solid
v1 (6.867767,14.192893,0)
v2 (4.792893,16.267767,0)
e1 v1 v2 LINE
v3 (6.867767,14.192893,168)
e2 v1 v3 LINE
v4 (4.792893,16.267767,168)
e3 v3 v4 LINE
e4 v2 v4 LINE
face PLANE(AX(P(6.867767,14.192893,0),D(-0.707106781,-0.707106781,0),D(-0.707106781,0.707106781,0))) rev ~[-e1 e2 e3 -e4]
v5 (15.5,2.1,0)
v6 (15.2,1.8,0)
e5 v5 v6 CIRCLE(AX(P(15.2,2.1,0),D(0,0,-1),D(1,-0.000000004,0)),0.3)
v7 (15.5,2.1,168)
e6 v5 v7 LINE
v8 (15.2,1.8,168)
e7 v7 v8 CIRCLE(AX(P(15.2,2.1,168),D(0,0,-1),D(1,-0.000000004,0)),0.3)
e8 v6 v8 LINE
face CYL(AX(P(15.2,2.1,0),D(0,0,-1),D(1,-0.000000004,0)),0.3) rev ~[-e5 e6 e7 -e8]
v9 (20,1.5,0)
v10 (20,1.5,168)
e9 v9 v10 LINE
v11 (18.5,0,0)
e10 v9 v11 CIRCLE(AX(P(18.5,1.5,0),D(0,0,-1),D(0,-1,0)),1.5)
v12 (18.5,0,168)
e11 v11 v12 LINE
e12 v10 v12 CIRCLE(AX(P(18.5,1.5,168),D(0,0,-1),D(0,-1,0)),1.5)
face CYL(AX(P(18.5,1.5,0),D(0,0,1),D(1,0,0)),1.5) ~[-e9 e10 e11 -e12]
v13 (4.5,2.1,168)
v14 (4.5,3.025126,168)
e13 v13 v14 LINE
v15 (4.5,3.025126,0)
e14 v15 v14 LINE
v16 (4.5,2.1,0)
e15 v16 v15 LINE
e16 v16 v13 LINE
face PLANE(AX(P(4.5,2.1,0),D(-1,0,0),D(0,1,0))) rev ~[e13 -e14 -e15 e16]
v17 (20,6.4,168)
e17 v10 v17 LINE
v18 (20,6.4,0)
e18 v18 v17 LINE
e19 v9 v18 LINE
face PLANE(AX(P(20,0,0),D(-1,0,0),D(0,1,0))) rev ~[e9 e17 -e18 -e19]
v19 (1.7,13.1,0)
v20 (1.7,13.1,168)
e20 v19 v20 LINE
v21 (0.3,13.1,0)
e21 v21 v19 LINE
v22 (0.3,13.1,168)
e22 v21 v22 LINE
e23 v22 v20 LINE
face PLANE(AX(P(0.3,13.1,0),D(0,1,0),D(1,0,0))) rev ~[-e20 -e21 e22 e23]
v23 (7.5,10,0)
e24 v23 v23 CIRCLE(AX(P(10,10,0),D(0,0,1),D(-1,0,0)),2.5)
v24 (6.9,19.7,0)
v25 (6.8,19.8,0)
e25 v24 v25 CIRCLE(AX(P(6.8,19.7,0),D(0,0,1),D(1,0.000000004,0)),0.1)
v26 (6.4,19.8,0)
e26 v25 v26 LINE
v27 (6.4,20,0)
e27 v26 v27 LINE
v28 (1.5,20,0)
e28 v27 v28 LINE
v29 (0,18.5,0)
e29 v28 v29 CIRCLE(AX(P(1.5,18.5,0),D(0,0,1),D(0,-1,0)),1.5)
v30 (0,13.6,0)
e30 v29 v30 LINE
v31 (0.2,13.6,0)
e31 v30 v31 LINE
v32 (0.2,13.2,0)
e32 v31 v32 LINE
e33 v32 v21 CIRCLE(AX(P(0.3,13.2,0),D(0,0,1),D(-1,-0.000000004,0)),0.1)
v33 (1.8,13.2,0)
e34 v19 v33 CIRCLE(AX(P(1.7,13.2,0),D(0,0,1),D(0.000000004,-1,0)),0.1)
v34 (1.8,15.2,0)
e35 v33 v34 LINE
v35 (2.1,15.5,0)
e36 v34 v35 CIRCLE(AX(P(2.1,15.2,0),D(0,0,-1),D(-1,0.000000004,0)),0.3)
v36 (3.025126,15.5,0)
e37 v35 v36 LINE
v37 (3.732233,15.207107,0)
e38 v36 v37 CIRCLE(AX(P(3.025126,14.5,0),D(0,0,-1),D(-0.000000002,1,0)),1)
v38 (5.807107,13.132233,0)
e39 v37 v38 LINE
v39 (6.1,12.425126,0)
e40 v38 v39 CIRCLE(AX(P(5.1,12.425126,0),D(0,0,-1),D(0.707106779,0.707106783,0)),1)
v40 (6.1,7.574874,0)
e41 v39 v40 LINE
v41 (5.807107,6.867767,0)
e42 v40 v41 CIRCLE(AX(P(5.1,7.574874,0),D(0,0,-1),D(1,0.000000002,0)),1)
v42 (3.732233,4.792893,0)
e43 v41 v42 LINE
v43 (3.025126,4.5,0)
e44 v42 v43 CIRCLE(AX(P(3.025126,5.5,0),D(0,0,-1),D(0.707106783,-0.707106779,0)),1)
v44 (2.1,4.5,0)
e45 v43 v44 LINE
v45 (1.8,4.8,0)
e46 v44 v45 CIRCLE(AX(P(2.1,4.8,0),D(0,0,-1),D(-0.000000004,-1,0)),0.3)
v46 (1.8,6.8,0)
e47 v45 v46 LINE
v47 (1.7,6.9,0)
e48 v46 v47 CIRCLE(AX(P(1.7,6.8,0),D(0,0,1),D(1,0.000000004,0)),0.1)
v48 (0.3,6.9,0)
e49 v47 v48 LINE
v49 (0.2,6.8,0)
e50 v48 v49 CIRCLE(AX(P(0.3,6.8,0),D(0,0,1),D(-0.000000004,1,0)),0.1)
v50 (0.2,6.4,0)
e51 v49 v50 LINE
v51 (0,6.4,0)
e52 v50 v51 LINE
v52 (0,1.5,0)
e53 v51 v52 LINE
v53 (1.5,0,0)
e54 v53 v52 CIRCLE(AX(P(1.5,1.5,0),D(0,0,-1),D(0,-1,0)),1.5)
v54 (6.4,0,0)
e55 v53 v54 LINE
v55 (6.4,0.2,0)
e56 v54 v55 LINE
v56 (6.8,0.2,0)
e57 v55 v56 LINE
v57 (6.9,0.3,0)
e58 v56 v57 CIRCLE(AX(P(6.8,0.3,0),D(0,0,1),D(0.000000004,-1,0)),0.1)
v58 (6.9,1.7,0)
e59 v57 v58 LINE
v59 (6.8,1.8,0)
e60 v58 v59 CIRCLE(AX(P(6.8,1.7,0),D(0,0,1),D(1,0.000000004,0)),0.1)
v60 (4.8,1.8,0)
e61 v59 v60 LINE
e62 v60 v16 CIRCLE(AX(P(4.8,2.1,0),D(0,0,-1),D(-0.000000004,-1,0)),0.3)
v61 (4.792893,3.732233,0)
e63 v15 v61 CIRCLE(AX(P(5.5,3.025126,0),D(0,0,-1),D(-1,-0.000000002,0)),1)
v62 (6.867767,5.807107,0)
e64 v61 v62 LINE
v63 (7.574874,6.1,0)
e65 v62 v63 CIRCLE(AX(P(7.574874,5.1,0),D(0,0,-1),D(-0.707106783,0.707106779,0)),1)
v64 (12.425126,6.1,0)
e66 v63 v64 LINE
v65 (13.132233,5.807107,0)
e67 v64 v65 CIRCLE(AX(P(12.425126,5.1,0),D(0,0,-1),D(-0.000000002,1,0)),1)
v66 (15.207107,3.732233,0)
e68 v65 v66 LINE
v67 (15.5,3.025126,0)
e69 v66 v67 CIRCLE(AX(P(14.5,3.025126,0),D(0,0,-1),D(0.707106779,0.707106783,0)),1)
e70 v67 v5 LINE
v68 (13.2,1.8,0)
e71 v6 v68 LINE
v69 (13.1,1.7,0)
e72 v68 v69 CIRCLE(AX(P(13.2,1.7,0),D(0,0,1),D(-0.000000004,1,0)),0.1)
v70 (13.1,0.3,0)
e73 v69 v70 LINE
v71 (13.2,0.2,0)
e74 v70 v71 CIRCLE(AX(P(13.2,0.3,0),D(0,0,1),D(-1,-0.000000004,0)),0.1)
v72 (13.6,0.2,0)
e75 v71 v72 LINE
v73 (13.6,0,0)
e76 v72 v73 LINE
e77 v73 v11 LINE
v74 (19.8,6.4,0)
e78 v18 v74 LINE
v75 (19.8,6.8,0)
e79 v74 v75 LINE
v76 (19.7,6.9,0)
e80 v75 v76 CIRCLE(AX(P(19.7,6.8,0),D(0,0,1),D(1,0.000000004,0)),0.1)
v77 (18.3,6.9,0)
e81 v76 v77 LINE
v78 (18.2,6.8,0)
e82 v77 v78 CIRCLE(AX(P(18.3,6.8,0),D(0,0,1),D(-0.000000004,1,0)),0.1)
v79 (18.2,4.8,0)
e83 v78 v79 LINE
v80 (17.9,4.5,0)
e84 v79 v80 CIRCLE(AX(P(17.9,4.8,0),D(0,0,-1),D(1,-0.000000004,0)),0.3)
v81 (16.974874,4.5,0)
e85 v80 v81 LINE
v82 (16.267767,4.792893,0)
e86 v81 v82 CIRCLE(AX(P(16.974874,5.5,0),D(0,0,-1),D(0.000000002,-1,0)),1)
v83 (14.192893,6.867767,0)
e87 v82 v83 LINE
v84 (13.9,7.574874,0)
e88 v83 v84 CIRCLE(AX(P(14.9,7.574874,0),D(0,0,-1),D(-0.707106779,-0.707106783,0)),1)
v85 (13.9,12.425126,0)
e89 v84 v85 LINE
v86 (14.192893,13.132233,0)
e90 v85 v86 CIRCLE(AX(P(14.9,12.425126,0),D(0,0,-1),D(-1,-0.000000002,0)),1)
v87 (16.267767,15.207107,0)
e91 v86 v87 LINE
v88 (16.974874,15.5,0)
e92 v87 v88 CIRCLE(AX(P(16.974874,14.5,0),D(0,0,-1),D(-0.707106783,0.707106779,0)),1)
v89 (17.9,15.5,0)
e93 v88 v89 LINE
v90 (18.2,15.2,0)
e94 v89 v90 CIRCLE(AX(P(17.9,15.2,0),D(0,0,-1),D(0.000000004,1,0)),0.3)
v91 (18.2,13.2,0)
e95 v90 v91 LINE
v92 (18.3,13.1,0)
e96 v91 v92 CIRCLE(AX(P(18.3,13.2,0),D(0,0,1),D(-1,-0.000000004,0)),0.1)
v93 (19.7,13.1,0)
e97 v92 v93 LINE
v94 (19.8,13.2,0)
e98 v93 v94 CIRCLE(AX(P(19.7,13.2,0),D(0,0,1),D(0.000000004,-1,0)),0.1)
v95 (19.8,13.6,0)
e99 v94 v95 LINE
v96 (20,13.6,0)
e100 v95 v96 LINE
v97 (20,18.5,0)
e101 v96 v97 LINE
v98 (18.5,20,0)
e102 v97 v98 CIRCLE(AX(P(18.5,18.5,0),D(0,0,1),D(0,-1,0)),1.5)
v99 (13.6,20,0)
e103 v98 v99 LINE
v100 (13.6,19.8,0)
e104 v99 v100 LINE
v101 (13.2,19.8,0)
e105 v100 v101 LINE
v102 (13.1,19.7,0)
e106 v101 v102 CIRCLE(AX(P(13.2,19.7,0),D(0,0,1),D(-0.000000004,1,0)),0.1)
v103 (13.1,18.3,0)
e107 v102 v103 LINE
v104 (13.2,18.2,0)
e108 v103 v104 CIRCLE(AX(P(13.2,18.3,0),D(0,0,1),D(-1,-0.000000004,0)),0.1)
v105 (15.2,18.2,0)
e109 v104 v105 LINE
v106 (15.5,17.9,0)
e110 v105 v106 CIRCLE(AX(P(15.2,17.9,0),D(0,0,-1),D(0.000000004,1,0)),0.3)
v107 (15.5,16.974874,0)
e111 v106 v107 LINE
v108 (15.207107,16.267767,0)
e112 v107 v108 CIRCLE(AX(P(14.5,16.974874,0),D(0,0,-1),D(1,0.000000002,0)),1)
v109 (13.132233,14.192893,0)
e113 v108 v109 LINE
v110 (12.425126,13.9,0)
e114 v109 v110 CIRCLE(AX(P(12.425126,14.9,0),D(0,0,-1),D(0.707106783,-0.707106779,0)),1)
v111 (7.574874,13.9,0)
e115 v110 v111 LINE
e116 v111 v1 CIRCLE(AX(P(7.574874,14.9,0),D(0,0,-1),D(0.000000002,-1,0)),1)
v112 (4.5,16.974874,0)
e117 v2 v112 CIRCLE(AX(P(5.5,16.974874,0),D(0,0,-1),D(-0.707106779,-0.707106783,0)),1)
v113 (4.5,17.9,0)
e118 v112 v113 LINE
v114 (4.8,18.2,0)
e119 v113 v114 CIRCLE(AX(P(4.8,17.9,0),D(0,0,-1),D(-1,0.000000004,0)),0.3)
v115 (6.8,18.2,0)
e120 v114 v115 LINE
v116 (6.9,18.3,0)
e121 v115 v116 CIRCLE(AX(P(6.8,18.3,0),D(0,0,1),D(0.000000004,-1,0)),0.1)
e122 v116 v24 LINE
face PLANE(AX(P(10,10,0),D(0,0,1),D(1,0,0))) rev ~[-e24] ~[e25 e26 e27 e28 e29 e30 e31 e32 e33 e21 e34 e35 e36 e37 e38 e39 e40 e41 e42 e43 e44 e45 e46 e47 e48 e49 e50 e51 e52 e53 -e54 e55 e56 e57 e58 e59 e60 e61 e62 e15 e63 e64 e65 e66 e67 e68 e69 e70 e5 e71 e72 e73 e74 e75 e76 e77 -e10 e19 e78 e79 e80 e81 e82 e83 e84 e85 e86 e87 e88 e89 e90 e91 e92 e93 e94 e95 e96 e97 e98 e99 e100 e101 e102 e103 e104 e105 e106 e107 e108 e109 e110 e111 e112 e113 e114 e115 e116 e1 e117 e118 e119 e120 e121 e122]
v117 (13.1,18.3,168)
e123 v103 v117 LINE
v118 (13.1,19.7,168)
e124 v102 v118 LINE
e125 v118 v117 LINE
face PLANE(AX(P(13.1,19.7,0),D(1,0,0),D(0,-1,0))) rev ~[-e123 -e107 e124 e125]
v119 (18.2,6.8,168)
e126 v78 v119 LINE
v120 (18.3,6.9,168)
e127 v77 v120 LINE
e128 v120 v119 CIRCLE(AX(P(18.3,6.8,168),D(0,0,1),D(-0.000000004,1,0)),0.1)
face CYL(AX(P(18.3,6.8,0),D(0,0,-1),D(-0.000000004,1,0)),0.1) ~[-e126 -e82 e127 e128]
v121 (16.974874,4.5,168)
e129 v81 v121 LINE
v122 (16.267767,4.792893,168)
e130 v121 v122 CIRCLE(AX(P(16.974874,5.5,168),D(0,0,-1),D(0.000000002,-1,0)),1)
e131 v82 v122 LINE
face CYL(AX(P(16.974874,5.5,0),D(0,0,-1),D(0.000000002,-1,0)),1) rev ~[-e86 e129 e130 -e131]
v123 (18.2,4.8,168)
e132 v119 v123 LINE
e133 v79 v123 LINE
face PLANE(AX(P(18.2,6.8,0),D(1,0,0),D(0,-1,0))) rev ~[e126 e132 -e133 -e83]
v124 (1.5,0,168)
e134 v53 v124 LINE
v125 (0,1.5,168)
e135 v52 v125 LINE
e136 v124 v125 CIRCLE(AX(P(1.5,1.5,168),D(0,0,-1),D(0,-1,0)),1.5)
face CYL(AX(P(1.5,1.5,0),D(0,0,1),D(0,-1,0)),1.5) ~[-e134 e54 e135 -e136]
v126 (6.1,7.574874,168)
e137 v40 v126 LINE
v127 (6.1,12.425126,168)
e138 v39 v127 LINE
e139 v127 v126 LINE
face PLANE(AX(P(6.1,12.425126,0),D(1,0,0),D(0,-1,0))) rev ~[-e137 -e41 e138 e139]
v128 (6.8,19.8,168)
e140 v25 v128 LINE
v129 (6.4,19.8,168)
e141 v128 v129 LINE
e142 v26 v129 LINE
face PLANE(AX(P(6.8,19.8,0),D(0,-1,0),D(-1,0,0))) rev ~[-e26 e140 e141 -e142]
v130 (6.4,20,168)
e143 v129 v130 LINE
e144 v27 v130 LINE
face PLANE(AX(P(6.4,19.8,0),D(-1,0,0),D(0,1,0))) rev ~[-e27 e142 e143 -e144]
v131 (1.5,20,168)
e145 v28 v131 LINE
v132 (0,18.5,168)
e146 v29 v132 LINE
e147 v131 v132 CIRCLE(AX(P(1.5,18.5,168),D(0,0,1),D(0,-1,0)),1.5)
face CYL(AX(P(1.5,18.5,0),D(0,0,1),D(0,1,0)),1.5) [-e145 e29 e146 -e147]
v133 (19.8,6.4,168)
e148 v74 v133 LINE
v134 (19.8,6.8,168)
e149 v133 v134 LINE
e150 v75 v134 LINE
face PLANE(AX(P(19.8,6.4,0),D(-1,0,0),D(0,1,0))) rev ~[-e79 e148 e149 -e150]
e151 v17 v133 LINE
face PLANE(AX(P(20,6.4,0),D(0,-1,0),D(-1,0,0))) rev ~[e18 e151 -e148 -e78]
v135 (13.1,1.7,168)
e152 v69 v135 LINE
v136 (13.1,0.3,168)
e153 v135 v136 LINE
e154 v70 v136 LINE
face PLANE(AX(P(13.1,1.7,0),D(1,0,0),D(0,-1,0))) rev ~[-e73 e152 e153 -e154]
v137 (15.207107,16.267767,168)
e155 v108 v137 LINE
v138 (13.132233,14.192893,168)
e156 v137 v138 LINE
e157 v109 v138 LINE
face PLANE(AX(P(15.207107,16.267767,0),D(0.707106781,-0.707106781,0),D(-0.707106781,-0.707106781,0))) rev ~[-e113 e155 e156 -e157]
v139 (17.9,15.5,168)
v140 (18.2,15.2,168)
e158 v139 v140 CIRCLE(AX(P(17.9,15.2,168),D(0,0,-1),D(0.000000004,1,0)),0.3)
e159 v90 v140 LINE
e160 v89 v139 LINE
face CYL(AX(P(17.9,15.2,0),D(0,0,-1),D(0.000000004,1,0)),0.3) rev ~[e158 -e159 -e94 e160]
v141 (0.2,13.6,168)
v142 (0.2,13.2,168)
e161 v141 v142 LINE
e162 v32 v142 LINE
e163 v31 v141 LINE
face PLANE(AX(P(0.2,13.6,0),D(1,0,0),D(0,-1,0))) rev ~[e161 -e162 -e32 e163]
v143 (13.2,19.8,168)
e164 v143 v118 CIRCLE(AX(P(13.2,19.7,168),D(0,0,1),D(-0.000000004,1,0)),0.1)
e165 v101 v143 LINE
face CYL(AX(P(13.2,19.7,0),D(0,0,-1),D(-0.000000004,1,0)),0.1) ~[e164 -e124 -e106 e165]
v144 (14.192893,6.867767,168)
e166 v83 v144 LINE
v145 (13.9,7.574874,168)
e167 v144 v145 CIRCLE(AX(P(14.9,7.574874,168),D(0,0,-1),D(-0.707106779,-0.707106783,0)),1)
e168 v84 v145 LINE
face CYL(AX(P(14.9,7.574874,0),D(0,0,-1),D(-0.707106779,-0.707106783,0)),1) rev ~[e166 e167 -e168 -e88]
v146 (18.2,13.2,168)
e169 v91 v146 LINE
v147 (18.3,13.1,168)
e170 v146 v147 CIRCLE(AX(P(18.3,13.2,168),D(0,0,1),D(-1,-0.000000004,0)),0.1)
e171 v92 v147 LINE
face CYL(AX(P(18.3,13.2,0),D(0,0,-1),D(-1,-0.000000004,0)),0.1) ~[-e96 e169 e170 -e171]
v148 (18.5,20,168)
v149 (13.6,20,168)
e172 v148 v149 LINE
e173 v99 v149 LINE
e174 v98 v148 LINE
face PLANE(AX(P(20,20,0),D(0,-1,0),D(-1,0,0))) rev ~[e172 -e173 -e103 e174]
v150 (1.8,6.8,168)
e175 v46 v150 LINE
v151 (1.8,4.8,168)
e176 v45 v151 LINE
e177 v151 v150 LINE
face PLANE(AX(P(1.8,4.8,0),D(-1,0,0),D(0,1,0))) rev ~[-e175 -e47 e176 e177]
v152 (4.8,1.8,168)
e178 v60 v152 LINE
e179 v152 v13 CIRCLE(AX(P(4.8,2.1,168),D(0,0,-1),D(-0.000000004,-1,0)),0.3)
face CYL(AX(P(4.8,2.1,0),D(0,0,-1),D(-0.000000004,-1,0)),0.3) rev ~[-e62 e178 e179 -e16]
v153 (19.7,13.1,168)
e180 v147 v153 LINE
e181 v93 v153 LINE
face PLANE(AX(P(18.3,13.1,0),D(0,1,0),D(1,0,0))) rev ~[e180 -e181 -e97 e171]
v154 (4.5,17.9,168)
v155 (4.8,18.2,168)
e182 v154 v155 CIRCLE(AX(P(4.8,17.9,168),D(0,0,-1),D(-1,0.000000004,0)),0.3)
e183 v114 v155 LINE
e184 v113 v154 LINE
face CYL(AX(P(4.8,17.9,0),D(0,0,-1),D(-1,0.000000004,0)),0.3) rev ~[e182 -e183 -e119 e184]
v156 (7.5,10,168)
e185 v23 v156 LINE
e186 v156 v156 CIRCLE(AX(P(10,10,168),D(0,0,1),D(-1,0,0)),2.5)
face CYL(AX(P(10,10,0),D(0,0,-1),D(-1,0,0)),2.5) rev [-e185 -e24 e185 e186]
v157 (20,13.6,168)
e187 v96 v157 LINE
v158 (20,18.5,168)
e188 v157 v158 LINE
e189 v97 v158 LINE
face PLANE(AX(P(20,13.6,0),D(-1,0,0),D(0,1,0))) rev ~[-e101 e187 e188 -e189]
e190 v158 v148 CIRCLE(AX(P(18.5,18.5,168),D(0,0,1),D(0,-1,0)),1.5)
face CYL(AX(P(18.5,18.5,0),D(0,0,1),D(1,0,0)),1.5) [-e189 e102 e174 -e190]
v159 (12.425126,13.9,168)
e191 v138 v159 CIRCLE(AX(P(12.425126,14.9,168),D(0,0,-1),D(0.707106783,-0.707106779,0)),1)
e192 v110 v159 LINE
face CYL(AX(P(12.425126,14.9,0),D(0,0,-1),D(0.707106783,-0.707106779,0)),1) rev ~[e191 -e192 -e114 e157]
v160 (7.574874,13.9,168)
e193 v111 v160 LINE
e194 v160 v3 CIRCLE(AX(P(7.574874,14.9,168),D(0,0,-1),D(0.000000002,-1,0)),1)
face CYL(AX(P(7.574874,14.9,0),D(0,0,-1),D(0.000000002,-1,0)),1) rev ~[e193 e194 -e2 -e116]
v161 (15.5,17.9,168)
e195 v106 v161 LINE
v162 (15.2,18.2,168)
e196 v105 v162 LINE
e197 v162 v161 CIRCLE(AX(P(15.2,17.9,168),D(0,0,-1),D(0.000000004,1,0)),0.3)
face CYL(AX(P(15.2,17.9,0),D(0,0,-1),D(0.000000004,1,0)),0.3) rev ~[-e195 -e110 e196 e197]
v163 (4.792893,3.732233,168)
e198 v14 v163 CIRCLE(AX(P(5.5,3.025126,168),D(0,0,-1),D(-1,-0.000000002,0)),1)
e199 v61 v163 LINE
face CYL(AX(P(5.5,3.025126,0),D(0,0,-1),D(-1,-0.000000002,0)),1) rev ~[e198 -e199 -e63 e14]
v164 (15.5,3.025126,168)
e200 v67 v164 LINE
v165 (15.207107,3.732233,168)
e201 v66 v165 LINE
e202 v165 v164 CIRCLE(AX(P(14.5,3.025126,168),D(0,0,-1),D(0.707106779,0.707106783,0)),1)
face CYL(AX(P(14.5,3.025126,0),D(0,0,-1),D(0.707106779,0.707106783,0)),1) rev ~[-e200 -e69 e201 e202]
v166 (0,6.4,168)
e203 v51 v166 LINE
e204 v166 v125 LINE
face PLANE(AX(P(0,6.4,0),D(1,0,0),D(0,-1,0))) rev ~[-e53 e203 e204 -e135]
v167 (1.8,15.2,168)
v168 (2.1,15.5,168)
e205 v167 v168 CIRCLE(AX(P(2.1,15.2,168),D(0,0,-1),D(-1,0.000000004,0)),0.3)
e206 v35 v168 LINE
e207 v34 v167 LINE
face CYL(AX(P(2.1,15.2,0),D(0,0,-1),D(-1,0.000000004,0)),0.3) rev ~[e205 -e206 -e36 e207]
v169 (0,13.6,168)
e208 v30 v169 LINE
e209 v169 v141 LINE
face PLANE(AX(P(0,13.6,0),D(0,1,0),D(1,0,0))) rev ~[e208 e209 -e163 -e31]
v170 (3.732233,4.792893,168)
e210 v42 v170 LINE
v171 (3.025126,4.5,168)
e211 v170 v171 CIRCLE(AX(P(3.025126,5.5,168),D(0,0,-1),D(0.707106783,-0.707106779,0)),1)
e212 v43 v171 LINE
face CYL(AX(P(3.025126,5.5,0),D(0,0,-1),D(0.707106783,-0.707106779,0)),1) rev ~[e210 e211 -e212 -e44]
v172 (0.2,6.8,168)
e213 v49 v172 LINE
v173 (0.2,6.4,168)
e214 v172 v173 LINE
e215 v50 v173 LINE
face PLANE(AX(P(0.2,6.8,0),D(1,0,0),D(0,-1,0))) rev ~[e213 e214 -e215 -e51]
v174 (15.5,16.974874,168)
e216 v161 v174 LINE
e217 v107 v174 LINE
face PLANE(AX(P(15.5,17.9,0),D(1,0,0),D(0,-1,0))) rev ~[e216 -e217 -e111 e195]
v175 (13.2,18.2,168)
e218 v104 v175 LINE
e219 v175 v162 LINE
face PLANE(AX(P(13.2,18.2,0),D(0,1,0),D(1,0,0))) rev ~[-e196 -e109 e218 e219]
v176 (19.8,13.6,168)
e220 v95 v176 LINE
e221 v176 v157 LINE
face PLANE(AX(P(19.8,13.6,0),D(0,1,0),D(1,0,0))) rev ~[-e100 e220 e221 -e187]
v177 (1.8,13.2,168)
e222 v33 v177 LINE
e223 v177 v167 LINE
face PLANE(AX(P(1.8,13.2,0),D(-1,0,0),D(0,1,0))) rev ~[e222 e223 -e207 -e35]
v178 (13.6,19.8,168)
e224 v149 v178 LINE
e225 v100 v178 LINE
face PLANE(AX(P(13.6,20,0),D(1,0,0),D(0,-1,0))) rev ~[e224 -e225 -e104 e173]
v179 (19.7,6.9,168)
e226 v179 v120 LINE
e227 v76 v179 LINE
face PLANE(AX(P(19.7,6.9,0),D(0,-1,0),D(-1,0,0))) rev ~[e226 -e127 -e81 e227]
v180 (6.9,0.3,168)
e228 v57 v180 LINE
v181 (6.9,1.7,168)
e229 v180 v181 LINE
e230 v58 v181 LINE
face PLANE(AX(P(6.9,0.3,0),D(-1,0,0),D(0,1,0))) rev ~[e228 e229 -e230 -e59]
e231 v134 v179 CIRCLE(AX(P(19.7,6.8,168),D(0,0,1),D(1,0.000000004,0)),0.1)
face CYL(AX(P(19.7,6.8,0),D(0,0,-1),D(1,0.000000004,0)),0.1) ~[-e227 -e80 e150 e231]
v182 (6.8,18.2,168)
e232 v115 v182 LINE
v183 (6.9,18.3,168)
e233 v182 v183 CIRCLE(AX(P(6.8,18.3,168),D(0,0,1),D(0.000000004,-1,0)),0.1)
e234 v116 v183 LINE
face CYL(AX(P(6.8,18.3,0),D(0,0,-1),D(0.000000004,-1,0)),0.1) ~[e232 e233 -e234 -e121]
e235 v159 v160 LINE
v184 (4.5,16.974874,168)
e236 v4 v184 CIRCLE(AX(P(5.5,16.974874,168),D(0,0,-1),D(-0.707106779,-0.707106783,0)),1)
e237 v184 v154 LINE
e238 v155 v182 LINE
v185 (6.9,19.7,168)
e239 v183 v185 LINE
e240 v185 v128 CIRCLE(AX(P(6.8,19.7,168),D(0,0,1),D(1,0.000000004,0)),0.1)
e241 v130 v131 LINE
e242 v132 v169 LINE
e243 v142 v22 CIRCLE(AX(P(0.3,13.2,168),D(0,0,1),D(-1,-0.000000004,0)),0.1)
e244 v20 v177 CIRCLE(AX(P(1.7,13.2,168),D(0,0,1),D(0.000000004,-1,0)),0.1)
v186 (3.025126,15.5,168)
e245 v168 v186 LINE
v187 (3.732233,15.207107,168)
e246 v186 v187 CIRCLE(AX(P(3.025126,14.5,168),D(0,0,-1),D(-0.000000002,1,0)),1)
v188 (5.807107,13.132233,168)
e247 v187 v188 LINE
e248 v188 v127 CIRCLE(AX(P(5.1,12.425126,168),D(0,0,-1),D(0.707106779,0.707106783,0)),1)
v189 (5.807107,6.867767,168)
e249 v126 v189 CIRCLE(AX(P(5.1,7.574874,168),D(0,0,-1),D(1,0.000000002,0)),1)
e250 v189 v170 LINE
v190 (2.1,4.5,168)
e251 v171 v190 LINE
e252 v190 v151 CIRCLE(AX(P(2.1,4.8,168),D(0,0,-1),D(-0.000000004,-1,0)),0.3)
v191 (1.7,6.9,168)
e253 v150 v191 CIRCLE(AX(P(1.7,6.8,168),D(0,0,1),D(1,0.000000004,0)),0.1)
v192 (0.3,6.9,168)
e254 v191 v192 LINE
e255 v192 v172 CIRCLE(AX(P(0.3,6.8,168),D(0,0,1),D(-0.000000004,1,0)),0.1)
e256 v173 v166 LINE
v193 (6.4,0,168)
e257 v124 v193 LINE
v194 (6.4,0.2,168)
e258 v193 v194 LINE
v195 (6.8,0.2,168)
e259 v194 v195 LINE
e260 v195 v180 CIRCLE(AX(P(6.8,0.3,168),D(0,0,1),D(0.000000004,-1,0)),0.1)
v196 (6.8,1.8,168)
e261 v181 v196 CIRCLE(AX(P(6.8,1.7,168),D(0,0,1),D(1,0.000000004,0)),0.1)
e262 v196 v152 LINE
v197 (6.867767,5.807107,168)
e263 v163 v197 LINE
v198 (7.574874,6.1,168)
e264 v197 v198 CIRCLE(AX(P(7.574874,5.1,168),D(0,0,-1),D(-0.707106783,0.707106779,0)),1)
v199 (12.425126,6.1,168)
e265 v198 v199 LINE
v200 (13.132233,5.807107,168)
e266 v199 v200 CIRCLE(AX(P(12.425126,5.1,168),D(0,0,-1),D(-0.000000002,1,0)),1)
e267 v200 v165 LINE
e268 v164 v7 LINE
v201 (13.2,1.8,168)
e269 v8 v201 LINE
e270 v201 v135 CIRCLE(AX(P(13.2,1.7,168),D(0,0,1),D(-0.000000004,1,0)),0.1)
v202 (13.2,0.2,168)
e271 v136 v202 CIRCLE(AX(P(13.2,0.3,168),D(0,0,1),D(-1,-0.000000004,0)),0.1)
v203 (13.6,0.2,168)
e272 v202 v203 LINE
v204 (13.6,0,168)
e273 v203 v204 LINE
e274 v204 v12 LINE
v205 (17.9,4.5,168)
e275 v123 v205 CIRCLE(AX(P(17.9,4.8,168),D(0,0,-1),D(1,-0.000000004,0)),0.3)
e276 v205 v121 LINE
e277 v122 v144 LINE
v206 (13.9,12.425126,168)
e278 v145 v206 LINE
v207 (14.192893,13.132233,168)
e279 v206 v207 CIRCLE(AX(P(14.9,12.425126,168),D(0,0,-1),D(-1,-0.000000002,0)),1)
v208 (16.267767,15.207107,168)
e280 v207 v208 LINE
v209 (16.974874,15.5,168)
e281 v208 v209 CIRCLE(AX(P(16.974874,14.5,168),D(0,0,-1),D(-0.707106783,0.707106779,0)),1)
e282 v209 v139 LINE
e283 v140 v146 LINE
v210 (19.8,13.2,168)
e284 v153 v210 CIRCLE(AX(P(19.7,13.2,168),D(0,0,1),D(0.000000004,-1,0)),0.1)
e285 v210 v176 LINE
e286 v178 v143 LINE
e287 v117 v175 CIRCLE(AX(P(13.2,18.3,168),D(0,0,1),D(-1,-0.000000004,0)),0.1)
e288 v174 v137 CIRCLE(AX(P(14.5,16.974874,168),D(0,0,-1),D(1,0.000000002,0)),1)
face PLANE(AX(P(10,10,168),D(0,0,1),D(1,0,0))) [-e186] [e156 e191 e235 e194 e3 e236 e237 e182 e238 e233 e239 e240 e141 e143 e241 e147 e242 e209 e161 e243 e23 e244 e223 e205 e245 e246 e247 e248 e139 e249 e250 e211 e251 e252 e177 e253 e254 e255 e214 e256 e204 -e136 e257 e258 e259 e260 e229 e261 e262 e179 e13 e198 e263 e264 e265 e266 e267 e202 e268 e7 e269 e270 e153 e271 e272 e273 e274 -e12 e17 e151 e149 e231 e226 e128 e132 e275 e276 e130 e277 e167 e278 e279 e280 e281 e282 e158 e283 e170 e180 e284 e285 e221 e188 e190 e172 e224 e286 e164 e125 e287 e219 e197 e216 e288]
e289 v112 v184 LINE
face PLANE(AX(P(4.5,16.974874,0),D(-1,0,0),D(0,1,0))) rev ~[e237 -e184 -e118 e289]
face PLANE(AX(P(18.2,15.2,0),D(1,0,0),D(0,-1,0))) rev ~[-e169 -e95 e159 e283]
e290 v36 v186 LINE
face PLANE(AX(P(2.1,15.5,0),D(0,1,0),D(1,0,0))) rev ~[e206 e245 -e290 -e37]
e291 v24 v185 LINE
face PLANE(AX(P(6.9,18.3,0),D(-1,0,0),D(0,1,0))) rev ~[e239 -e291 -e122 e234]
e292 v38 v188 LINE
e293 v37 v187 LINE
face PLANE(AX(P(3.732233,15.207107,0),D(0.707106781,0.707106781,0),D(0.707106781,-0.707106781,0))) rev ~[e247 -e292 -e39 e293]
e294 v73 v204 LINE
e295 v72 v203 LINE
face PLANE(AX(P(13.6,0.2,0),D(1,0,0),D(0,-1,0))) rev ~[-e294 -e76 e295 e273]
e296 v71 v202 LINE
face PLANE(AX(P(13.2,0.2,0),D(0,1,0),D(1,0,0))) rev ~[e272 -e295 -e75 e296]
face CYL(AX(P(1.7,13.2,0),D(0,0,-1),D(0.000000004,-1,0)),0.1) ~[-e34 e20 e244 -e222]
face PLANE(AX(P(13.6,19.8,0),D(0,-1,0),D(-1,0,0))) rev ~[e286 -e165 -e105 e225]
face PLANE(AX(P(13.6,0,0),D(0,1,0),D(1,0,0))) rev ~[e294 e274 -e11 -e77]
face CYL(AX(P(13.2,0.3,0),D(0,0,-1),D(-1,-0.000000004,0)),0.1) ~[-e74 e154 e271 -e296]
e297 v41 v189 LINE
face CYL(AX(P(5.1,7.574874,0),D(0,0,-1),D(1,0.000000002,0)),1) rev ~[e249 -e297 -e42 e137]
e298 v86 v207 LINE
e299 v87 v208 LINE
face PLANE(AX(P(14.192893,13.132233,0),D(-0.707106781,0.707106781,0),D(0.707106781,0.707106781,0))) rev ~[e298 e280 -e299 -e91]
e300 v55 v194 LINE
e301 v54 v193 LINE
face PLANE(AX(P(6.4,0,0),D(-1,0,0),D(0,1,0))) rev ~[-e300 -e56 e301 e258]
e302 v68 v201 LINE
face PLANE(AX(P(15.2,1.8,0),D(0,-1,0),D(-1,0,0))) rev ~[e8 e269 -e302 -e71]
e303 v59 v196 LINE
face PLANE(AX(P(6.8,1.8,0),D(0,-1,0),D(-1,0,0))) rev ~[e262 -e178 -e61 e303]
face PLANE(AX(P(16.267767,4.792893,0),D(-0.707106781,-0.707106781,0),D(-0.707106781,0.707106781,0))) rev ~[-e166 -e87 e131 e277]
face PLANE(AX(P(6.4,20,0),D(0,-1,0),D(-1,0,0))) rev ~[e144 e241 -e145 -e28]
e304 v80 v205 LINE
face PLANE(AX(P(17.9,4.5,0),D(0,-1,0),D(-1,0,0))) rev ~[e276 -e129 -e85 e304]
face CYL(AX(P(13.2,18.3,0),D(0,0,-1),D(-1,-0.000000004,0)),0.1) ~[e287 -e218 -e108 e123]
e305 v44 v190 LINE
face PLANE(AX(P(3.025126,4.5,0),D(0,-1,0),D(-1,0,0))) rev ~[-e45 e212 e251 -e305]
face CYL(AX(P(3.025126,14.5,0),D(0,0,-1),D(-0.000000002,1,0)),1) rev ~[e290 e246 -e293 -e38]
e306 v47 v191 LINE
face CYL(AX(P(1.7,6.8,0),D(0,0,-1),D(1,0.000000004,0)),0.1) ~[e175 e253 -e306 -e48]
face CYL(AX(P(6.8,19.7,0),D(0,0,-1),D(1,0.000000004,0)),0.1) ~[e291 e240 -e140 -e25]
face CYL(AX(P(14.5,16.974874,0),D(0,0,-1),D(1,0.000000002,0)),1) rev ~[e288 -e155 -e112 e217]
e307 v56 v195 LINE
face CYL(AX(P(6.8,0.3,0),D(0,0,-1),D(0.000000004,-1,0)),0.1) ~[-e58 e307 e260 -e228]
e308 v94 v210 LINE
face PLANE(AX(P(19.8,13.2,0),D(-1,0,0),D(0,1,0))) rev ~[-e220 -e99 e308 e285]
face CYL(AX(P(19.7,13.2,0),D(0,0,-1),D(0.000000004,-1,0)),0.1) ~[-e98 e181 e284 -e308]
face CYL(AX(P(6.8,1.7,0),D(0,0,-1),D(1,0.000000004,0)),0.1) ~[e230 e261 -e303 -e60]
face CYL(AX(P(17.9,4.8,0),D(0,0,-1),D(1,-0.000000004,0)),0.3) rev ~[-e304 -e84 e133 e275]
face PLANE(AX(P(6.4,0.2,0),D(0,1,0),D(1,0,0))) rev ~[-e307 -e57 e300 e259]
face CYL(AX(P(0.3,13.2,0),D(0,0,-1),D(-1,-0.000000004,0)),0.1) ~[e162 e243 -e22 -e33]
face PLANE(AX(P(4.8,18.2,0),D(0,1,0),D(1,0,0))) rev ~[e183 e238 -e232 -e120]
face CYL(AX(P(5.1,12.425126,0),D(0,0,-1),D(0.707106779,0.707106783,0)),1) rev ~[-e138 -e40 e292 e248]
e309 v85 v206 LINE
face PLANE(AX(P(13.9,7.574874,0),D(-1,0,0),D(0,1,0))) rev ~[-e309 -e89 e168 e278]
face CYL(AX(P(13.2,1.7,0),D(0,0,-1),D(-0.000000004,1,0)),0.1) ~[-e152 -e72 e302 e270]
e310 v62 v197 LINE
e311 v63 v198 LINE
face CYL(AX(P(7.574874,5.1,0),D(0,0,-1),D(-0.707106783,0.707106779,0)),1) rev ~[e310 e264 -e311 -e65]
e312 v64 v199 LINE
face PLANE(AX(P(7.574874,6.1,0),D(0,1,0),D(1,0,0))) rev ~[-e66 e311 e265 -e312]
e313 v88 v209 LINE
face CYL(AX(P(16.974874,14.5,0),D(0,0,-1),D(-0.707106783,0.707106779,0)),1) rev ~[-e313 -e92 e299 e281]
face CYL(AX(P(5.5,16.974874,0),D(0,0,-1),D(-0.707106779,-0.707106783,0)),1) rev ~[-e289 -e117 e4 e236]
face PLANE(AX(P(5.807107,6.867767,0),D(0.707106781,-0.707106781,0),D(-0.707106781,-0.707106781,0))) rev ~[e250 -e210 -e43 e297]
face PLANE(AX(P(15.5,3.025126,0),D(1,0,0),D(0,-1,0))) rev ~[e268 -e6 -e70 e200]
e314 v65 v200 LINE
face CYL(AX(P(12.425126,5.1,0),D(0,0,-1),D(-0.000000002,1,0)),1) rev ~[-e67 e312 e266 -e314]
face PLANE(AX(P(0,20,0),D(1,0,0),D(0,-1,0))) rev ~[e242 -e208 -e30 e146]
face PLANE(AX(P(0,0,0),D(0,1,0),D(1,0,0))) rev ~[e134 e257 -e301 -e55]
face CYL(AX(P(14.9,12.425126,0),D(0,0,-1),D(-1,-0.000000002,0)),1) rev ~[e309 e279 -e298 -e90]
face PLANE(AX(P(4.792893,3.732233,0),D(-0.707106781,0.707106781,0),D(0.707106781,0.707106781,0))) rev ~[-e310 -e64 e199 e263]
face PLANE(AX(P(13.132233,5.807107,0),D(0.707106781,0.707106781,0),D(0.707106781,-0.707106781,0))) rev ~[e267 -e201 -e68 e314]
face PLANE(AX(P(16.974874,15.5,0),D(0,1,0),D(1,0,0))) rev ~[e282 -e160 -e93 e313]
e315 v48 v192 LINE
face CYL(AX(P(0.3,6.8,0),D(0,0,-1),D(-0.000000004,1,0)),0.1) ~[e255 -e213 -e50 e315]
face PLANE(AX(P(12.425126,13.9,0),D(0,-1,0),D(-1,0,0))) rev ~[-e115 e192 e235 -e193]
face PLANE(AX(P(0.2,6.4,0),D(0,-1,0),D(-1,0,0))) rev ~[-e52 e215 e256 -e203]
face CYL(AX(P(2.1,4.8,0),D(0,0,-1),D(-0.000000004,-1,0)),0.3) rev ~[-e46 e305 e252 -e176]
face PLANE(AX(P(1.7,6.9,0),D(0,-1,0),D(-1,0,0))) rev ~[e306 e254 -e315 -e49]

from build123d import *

# Parameters (mm, degrees)
SKETCH_1_R      = 2.5
EXTRUDE_1_DEPTH = 168
FILLET_1_R      = 1.5


with BuildPart() as part:
    # 草图1 → 凸台-拉伸1 (new body)
    with BuildSketch(Plane.XY):
        with BuildLine():
            Line((20, 13.6), (20, 20))
            Line((20, 20), (13.6, 20))
            Line((13.6, 20), (13.6, 19.8))
            Line((13.6, 19.8), (13.2, 19.8))
            ThreePointArc((13.2, 19.8), (13.129289322, 19.770710678), (13.1, 19.7))
            Line((13.1, 19.7), (13.1, 18.3))
            ThreePointArc((13.1, 18.3), (13.129289322, 18.229289322), (13.2, 18.2))
            Line((13.2, 18.2), (15.2, 18.2))
            ThreePointArc((15.2, 18.2), (15.412132034, 18.112132034), (15.5, 17.9))
            Line((15.5, 17.9), (15.5, 16.974873734))
            ThreePointArc((15.5, 16.974873734), (15.423879533, 16.592190302), (15.207106781, 16.267766953))
            Line((15.207106781, 16.267766953), (13.132233047, 14.192893219))
            ThreePointArc((13.132233047, 14.192893219), (12.807809698, 13.976120467), (12.425126266, 13.9))
            Line((12.425126266, 13.9), (7.574873734, 13.9))
            ThreePointArc((7.574873734, 13.9), (7.192190302, 13.976120467), (6.867766953, 14.192893219))
            Line((6.867766953, 14.192893219), (4.792893219, 16.267766953))
            ThreePointArc((4.792893219, 16.267766953), (4.576120467, 16.592190302), (4.5, 16.974873734))
            Line((4.5, 16.974873734), (4.5, 17.9))
            ThreePointArc((4.5, 17.9), (4.587867966, 18.112132034), (4.8, 18.2))
            Line((4.8, 18.2), (6.8, 18.2))
            ThreePointArc((6.8, 18.2), (6.870710678, 18.229289322), (6.9, 18.3))
            Line((6.9, 18.3), (6.9, 19.7))
            ThreePointArc((6.9, 19.7), (6.870710678, 19.770710678), (6.8, 19.8))
            Line((6.8, 19.8), (6.4, 19.8))
            Line((6.4, 19.8), (6.4, 20))
            Line((6.4, 20), (0, 20))
            Line((0, 20), (0, 13.6))
            Line((0, 13.6), (0.2, 13.6))
            Line((0.2, 13.6), (0.2, 13.2))
            ThreePointArc((0.2, 13.2), (0.229289322, 13.129289322), (0.3, 13.1))
            Line((0.3, 13.1), (1.7, 13.1))
            ThreePointArc((1.7, 13.1), (1.770710678, 13.129289322), (1.8, 13.2))
            Line((1.8, 13.2), (1.8, 15.2))
            ThreePointArc((1.8, 15.2), (1.887867966, 15.412132034), (2.1, 15.5))
            Line((2.1, 15.5), (3.025126266, 15.5))
            ThreePointArc((3.025126266, 15.5), (3.407809698, 15.423879533), (3.732233047, 15.207106781))
            Line((3.732233047, 15.207106781), (5.807106781, 13.132233047))
            ThreePointArc((5.807106781, 13.132233047), (6.023879533, 12.807809698), (6.1, 12.425126266))
            Line((6.1, 12.425126266), (6.1, 7.574873734))
            ThreePointArc((6.1, 7.574873734), (6.023879533, 7.192190302), (5.807106781, 6.867766953))
            Line((5.807106781, 6.867766953), (3.732233047, 4.792893219))
            ThreePointArc((3.732233047, 4.792893219), (3.407809698, 4.576120467), (3.025126266, 4.5))
            Line((3.025126266, 4.5), (2.1, 4.5))
            ThreePointArc((2.1, 4.5), (1.887867966, 4.587867966), (1.8, 4.8))
            Line((1.8, 4.8), (1.8, 6.8))
            ThreePointArc((1.8, 6.8), (1.770710678, 6.870710678), (1.7, 6.9))
            Line((1.7, 6.9), (0.3, 6.9))
            ThreePointArc((0.3, 6.9), (0.229289322, 6.870710678), (0.2, 6.8))
            Line((0.2, 6.8), (0.2, 6.4))
            Line((0.2, 6.4), (0, 6.4))
            Line((0, 6.4), (0, 0))
            Line((0, 0), (6.4, 0))
            Line((6.4, 0), (6.4, 0.2))
            Line((6.4, 0.2), (6.8, 0.2))
            ThreePointArc((6.8, 0.2), (6.870710678, 0.229289322), (6.9, 0.3))
            Line((6.9, 0.3), (6.9, 1.7))
            ThreePointArc((6.9, 1.7), (6.870710678, 1.770710678), (6.8, 1.8))
            Line((6.8, 1.8), (4.8, 1.8))
            ThreePointArc((4.8, 1.8), (4.587867966, 1.887867966), (4.5, 2.1))
            Line((4.5, 2.1), (4.5, 3.025126266))
            ThreePointArc((4.5, 3.025126266), (4.576120467, 3.407809698), (4.792893219, 3.732233047))
            Line((4.792893219, 3.732233047), (6.867766953, 5.807106781))
            ThreePointArc((6.867766953, 5.807106781), (7.192190302, 6.023879533), (7.574873734, 6.1))
            Line((7.574873734, 6.1), (12.425126266, 6.1))
            ThreePointArc((12.425126266, 6.1), (12.807809698, 6.023879533), (13.132233047, 5.807106781))
            Line((13.132233047, 5.807106781), (15.207106781, 3.732233047))
            ThreePointArc((15.207106781, 3.732233047), (15.423879533, 3.407809698), (15.5, 3.025126266))
            Line((15.5, 3.025126266), (15.5, 2.1))
            ThreePointArc((15.5, 2.1), (15.412132034, 1.887867966), (15.2, 1.8))
            Line((15.2, 1.8), (13.2, 1.8))
            ThreePointArc((13.2, 1.8), (13.129289322, 1.770710678), (13.1, 1.7))
            Line((13.1, 1.7), (13.1, 0.3))
            ThreePointArc((13.1, 0.3), (13.129289322, 0.229289322), (13.2, 0.2))
            Line((13.2, 0.2), (13.6, 0.2))
            Line((13.6, 0.2), (13.6, 0))
            Line((13.6, 0), (20, 0))
            Line((20, 0), (20, 6.4))
            Line((20, 6.4), (19.8, 6.4))
            Line((19.8, 6.4), (19.8, 6.8))
            ThreePointArc((19.8, 6.8), (19.770710678, 6.870710678), (19.7, 6.9))
            Line((19.7, 6.9), (18.3, 6.9))
            ThreePointArc((18.3, 6.9), (18.229289322, 6.870710678), (18.2, 6.8))
            Line((18.2, 6.8), (18.2, 4.8))
            ThreePointArc((18.2, 4.8), (18.112132034, 4.587867966), (17.9, 4.5))
            Line((17.9, 4.5), (16.974873734, 4.5))
            ThreePointArc((16.974873734, 4.5), (16.592190302, 4.576120467), (16.267766953, 4.792893219))
            Line((16.267766953, 4.792893219), (14.192893219, 6.867766953))
            ThreePointArc((14.192893219, 6.867766953), (13.976120467, 7.192190302), (13.9, 7.574873734))
            Line((13.9, 7.574873734), (13.9, 12.425126266))
            ThreePointArc((13.9, 12.425126266), (13.976120467, 12.807809698), (14.192893219, 13.132233047))
            Line((14.192893219, 13.132233047), (16.267766953, 15.207106781))
            ThreePointArc((16.267766953, 15.207106781), (16.592190302, 15.423879533), (16.974873734, 15.5))
            Line((16.974873734, 15.5), (17.9, 15.5))
            ThreePointArc((17.9, 15.5), (18.112132034, 15.412132034), (18.2, 15.2))
            Line((18.2, 15.2), (18.2, 13.2))
            ThreePointArc((18.2, 13.2), (18.229289322, 13.129289322), (18.3, 13.1))
            Line((18.3, 13.1), (19.7, 13.1))
            ThreePointArc((19.7, 13.1), (19.770710678, 13.129289322), (19.8, 13.2))
            Line((19.8, 13.2), (19.8, 13.6))
            Line((19.8, 13.6), (20, 13.6))
        make_face()
        with Locations(Location((10, 10, 0), (0, 0, 180))):
            Circle(SKETCH_1_R, mode=Mode.SUBTRACT)
    extrude(amount=EXTRUDE_1_DEPTH)

    # 圆角1
    fillet_1_edges = [part.edges().sort_by_distance(p)[0] for p in [
        (0, 0, 84),
        (0, 20, 84),
        (20, 20, 84),
        (20, 0, 84),
    ]]
    fillet(fillet_1_edges, radius=FILLET_1_R)


solid = part.part
